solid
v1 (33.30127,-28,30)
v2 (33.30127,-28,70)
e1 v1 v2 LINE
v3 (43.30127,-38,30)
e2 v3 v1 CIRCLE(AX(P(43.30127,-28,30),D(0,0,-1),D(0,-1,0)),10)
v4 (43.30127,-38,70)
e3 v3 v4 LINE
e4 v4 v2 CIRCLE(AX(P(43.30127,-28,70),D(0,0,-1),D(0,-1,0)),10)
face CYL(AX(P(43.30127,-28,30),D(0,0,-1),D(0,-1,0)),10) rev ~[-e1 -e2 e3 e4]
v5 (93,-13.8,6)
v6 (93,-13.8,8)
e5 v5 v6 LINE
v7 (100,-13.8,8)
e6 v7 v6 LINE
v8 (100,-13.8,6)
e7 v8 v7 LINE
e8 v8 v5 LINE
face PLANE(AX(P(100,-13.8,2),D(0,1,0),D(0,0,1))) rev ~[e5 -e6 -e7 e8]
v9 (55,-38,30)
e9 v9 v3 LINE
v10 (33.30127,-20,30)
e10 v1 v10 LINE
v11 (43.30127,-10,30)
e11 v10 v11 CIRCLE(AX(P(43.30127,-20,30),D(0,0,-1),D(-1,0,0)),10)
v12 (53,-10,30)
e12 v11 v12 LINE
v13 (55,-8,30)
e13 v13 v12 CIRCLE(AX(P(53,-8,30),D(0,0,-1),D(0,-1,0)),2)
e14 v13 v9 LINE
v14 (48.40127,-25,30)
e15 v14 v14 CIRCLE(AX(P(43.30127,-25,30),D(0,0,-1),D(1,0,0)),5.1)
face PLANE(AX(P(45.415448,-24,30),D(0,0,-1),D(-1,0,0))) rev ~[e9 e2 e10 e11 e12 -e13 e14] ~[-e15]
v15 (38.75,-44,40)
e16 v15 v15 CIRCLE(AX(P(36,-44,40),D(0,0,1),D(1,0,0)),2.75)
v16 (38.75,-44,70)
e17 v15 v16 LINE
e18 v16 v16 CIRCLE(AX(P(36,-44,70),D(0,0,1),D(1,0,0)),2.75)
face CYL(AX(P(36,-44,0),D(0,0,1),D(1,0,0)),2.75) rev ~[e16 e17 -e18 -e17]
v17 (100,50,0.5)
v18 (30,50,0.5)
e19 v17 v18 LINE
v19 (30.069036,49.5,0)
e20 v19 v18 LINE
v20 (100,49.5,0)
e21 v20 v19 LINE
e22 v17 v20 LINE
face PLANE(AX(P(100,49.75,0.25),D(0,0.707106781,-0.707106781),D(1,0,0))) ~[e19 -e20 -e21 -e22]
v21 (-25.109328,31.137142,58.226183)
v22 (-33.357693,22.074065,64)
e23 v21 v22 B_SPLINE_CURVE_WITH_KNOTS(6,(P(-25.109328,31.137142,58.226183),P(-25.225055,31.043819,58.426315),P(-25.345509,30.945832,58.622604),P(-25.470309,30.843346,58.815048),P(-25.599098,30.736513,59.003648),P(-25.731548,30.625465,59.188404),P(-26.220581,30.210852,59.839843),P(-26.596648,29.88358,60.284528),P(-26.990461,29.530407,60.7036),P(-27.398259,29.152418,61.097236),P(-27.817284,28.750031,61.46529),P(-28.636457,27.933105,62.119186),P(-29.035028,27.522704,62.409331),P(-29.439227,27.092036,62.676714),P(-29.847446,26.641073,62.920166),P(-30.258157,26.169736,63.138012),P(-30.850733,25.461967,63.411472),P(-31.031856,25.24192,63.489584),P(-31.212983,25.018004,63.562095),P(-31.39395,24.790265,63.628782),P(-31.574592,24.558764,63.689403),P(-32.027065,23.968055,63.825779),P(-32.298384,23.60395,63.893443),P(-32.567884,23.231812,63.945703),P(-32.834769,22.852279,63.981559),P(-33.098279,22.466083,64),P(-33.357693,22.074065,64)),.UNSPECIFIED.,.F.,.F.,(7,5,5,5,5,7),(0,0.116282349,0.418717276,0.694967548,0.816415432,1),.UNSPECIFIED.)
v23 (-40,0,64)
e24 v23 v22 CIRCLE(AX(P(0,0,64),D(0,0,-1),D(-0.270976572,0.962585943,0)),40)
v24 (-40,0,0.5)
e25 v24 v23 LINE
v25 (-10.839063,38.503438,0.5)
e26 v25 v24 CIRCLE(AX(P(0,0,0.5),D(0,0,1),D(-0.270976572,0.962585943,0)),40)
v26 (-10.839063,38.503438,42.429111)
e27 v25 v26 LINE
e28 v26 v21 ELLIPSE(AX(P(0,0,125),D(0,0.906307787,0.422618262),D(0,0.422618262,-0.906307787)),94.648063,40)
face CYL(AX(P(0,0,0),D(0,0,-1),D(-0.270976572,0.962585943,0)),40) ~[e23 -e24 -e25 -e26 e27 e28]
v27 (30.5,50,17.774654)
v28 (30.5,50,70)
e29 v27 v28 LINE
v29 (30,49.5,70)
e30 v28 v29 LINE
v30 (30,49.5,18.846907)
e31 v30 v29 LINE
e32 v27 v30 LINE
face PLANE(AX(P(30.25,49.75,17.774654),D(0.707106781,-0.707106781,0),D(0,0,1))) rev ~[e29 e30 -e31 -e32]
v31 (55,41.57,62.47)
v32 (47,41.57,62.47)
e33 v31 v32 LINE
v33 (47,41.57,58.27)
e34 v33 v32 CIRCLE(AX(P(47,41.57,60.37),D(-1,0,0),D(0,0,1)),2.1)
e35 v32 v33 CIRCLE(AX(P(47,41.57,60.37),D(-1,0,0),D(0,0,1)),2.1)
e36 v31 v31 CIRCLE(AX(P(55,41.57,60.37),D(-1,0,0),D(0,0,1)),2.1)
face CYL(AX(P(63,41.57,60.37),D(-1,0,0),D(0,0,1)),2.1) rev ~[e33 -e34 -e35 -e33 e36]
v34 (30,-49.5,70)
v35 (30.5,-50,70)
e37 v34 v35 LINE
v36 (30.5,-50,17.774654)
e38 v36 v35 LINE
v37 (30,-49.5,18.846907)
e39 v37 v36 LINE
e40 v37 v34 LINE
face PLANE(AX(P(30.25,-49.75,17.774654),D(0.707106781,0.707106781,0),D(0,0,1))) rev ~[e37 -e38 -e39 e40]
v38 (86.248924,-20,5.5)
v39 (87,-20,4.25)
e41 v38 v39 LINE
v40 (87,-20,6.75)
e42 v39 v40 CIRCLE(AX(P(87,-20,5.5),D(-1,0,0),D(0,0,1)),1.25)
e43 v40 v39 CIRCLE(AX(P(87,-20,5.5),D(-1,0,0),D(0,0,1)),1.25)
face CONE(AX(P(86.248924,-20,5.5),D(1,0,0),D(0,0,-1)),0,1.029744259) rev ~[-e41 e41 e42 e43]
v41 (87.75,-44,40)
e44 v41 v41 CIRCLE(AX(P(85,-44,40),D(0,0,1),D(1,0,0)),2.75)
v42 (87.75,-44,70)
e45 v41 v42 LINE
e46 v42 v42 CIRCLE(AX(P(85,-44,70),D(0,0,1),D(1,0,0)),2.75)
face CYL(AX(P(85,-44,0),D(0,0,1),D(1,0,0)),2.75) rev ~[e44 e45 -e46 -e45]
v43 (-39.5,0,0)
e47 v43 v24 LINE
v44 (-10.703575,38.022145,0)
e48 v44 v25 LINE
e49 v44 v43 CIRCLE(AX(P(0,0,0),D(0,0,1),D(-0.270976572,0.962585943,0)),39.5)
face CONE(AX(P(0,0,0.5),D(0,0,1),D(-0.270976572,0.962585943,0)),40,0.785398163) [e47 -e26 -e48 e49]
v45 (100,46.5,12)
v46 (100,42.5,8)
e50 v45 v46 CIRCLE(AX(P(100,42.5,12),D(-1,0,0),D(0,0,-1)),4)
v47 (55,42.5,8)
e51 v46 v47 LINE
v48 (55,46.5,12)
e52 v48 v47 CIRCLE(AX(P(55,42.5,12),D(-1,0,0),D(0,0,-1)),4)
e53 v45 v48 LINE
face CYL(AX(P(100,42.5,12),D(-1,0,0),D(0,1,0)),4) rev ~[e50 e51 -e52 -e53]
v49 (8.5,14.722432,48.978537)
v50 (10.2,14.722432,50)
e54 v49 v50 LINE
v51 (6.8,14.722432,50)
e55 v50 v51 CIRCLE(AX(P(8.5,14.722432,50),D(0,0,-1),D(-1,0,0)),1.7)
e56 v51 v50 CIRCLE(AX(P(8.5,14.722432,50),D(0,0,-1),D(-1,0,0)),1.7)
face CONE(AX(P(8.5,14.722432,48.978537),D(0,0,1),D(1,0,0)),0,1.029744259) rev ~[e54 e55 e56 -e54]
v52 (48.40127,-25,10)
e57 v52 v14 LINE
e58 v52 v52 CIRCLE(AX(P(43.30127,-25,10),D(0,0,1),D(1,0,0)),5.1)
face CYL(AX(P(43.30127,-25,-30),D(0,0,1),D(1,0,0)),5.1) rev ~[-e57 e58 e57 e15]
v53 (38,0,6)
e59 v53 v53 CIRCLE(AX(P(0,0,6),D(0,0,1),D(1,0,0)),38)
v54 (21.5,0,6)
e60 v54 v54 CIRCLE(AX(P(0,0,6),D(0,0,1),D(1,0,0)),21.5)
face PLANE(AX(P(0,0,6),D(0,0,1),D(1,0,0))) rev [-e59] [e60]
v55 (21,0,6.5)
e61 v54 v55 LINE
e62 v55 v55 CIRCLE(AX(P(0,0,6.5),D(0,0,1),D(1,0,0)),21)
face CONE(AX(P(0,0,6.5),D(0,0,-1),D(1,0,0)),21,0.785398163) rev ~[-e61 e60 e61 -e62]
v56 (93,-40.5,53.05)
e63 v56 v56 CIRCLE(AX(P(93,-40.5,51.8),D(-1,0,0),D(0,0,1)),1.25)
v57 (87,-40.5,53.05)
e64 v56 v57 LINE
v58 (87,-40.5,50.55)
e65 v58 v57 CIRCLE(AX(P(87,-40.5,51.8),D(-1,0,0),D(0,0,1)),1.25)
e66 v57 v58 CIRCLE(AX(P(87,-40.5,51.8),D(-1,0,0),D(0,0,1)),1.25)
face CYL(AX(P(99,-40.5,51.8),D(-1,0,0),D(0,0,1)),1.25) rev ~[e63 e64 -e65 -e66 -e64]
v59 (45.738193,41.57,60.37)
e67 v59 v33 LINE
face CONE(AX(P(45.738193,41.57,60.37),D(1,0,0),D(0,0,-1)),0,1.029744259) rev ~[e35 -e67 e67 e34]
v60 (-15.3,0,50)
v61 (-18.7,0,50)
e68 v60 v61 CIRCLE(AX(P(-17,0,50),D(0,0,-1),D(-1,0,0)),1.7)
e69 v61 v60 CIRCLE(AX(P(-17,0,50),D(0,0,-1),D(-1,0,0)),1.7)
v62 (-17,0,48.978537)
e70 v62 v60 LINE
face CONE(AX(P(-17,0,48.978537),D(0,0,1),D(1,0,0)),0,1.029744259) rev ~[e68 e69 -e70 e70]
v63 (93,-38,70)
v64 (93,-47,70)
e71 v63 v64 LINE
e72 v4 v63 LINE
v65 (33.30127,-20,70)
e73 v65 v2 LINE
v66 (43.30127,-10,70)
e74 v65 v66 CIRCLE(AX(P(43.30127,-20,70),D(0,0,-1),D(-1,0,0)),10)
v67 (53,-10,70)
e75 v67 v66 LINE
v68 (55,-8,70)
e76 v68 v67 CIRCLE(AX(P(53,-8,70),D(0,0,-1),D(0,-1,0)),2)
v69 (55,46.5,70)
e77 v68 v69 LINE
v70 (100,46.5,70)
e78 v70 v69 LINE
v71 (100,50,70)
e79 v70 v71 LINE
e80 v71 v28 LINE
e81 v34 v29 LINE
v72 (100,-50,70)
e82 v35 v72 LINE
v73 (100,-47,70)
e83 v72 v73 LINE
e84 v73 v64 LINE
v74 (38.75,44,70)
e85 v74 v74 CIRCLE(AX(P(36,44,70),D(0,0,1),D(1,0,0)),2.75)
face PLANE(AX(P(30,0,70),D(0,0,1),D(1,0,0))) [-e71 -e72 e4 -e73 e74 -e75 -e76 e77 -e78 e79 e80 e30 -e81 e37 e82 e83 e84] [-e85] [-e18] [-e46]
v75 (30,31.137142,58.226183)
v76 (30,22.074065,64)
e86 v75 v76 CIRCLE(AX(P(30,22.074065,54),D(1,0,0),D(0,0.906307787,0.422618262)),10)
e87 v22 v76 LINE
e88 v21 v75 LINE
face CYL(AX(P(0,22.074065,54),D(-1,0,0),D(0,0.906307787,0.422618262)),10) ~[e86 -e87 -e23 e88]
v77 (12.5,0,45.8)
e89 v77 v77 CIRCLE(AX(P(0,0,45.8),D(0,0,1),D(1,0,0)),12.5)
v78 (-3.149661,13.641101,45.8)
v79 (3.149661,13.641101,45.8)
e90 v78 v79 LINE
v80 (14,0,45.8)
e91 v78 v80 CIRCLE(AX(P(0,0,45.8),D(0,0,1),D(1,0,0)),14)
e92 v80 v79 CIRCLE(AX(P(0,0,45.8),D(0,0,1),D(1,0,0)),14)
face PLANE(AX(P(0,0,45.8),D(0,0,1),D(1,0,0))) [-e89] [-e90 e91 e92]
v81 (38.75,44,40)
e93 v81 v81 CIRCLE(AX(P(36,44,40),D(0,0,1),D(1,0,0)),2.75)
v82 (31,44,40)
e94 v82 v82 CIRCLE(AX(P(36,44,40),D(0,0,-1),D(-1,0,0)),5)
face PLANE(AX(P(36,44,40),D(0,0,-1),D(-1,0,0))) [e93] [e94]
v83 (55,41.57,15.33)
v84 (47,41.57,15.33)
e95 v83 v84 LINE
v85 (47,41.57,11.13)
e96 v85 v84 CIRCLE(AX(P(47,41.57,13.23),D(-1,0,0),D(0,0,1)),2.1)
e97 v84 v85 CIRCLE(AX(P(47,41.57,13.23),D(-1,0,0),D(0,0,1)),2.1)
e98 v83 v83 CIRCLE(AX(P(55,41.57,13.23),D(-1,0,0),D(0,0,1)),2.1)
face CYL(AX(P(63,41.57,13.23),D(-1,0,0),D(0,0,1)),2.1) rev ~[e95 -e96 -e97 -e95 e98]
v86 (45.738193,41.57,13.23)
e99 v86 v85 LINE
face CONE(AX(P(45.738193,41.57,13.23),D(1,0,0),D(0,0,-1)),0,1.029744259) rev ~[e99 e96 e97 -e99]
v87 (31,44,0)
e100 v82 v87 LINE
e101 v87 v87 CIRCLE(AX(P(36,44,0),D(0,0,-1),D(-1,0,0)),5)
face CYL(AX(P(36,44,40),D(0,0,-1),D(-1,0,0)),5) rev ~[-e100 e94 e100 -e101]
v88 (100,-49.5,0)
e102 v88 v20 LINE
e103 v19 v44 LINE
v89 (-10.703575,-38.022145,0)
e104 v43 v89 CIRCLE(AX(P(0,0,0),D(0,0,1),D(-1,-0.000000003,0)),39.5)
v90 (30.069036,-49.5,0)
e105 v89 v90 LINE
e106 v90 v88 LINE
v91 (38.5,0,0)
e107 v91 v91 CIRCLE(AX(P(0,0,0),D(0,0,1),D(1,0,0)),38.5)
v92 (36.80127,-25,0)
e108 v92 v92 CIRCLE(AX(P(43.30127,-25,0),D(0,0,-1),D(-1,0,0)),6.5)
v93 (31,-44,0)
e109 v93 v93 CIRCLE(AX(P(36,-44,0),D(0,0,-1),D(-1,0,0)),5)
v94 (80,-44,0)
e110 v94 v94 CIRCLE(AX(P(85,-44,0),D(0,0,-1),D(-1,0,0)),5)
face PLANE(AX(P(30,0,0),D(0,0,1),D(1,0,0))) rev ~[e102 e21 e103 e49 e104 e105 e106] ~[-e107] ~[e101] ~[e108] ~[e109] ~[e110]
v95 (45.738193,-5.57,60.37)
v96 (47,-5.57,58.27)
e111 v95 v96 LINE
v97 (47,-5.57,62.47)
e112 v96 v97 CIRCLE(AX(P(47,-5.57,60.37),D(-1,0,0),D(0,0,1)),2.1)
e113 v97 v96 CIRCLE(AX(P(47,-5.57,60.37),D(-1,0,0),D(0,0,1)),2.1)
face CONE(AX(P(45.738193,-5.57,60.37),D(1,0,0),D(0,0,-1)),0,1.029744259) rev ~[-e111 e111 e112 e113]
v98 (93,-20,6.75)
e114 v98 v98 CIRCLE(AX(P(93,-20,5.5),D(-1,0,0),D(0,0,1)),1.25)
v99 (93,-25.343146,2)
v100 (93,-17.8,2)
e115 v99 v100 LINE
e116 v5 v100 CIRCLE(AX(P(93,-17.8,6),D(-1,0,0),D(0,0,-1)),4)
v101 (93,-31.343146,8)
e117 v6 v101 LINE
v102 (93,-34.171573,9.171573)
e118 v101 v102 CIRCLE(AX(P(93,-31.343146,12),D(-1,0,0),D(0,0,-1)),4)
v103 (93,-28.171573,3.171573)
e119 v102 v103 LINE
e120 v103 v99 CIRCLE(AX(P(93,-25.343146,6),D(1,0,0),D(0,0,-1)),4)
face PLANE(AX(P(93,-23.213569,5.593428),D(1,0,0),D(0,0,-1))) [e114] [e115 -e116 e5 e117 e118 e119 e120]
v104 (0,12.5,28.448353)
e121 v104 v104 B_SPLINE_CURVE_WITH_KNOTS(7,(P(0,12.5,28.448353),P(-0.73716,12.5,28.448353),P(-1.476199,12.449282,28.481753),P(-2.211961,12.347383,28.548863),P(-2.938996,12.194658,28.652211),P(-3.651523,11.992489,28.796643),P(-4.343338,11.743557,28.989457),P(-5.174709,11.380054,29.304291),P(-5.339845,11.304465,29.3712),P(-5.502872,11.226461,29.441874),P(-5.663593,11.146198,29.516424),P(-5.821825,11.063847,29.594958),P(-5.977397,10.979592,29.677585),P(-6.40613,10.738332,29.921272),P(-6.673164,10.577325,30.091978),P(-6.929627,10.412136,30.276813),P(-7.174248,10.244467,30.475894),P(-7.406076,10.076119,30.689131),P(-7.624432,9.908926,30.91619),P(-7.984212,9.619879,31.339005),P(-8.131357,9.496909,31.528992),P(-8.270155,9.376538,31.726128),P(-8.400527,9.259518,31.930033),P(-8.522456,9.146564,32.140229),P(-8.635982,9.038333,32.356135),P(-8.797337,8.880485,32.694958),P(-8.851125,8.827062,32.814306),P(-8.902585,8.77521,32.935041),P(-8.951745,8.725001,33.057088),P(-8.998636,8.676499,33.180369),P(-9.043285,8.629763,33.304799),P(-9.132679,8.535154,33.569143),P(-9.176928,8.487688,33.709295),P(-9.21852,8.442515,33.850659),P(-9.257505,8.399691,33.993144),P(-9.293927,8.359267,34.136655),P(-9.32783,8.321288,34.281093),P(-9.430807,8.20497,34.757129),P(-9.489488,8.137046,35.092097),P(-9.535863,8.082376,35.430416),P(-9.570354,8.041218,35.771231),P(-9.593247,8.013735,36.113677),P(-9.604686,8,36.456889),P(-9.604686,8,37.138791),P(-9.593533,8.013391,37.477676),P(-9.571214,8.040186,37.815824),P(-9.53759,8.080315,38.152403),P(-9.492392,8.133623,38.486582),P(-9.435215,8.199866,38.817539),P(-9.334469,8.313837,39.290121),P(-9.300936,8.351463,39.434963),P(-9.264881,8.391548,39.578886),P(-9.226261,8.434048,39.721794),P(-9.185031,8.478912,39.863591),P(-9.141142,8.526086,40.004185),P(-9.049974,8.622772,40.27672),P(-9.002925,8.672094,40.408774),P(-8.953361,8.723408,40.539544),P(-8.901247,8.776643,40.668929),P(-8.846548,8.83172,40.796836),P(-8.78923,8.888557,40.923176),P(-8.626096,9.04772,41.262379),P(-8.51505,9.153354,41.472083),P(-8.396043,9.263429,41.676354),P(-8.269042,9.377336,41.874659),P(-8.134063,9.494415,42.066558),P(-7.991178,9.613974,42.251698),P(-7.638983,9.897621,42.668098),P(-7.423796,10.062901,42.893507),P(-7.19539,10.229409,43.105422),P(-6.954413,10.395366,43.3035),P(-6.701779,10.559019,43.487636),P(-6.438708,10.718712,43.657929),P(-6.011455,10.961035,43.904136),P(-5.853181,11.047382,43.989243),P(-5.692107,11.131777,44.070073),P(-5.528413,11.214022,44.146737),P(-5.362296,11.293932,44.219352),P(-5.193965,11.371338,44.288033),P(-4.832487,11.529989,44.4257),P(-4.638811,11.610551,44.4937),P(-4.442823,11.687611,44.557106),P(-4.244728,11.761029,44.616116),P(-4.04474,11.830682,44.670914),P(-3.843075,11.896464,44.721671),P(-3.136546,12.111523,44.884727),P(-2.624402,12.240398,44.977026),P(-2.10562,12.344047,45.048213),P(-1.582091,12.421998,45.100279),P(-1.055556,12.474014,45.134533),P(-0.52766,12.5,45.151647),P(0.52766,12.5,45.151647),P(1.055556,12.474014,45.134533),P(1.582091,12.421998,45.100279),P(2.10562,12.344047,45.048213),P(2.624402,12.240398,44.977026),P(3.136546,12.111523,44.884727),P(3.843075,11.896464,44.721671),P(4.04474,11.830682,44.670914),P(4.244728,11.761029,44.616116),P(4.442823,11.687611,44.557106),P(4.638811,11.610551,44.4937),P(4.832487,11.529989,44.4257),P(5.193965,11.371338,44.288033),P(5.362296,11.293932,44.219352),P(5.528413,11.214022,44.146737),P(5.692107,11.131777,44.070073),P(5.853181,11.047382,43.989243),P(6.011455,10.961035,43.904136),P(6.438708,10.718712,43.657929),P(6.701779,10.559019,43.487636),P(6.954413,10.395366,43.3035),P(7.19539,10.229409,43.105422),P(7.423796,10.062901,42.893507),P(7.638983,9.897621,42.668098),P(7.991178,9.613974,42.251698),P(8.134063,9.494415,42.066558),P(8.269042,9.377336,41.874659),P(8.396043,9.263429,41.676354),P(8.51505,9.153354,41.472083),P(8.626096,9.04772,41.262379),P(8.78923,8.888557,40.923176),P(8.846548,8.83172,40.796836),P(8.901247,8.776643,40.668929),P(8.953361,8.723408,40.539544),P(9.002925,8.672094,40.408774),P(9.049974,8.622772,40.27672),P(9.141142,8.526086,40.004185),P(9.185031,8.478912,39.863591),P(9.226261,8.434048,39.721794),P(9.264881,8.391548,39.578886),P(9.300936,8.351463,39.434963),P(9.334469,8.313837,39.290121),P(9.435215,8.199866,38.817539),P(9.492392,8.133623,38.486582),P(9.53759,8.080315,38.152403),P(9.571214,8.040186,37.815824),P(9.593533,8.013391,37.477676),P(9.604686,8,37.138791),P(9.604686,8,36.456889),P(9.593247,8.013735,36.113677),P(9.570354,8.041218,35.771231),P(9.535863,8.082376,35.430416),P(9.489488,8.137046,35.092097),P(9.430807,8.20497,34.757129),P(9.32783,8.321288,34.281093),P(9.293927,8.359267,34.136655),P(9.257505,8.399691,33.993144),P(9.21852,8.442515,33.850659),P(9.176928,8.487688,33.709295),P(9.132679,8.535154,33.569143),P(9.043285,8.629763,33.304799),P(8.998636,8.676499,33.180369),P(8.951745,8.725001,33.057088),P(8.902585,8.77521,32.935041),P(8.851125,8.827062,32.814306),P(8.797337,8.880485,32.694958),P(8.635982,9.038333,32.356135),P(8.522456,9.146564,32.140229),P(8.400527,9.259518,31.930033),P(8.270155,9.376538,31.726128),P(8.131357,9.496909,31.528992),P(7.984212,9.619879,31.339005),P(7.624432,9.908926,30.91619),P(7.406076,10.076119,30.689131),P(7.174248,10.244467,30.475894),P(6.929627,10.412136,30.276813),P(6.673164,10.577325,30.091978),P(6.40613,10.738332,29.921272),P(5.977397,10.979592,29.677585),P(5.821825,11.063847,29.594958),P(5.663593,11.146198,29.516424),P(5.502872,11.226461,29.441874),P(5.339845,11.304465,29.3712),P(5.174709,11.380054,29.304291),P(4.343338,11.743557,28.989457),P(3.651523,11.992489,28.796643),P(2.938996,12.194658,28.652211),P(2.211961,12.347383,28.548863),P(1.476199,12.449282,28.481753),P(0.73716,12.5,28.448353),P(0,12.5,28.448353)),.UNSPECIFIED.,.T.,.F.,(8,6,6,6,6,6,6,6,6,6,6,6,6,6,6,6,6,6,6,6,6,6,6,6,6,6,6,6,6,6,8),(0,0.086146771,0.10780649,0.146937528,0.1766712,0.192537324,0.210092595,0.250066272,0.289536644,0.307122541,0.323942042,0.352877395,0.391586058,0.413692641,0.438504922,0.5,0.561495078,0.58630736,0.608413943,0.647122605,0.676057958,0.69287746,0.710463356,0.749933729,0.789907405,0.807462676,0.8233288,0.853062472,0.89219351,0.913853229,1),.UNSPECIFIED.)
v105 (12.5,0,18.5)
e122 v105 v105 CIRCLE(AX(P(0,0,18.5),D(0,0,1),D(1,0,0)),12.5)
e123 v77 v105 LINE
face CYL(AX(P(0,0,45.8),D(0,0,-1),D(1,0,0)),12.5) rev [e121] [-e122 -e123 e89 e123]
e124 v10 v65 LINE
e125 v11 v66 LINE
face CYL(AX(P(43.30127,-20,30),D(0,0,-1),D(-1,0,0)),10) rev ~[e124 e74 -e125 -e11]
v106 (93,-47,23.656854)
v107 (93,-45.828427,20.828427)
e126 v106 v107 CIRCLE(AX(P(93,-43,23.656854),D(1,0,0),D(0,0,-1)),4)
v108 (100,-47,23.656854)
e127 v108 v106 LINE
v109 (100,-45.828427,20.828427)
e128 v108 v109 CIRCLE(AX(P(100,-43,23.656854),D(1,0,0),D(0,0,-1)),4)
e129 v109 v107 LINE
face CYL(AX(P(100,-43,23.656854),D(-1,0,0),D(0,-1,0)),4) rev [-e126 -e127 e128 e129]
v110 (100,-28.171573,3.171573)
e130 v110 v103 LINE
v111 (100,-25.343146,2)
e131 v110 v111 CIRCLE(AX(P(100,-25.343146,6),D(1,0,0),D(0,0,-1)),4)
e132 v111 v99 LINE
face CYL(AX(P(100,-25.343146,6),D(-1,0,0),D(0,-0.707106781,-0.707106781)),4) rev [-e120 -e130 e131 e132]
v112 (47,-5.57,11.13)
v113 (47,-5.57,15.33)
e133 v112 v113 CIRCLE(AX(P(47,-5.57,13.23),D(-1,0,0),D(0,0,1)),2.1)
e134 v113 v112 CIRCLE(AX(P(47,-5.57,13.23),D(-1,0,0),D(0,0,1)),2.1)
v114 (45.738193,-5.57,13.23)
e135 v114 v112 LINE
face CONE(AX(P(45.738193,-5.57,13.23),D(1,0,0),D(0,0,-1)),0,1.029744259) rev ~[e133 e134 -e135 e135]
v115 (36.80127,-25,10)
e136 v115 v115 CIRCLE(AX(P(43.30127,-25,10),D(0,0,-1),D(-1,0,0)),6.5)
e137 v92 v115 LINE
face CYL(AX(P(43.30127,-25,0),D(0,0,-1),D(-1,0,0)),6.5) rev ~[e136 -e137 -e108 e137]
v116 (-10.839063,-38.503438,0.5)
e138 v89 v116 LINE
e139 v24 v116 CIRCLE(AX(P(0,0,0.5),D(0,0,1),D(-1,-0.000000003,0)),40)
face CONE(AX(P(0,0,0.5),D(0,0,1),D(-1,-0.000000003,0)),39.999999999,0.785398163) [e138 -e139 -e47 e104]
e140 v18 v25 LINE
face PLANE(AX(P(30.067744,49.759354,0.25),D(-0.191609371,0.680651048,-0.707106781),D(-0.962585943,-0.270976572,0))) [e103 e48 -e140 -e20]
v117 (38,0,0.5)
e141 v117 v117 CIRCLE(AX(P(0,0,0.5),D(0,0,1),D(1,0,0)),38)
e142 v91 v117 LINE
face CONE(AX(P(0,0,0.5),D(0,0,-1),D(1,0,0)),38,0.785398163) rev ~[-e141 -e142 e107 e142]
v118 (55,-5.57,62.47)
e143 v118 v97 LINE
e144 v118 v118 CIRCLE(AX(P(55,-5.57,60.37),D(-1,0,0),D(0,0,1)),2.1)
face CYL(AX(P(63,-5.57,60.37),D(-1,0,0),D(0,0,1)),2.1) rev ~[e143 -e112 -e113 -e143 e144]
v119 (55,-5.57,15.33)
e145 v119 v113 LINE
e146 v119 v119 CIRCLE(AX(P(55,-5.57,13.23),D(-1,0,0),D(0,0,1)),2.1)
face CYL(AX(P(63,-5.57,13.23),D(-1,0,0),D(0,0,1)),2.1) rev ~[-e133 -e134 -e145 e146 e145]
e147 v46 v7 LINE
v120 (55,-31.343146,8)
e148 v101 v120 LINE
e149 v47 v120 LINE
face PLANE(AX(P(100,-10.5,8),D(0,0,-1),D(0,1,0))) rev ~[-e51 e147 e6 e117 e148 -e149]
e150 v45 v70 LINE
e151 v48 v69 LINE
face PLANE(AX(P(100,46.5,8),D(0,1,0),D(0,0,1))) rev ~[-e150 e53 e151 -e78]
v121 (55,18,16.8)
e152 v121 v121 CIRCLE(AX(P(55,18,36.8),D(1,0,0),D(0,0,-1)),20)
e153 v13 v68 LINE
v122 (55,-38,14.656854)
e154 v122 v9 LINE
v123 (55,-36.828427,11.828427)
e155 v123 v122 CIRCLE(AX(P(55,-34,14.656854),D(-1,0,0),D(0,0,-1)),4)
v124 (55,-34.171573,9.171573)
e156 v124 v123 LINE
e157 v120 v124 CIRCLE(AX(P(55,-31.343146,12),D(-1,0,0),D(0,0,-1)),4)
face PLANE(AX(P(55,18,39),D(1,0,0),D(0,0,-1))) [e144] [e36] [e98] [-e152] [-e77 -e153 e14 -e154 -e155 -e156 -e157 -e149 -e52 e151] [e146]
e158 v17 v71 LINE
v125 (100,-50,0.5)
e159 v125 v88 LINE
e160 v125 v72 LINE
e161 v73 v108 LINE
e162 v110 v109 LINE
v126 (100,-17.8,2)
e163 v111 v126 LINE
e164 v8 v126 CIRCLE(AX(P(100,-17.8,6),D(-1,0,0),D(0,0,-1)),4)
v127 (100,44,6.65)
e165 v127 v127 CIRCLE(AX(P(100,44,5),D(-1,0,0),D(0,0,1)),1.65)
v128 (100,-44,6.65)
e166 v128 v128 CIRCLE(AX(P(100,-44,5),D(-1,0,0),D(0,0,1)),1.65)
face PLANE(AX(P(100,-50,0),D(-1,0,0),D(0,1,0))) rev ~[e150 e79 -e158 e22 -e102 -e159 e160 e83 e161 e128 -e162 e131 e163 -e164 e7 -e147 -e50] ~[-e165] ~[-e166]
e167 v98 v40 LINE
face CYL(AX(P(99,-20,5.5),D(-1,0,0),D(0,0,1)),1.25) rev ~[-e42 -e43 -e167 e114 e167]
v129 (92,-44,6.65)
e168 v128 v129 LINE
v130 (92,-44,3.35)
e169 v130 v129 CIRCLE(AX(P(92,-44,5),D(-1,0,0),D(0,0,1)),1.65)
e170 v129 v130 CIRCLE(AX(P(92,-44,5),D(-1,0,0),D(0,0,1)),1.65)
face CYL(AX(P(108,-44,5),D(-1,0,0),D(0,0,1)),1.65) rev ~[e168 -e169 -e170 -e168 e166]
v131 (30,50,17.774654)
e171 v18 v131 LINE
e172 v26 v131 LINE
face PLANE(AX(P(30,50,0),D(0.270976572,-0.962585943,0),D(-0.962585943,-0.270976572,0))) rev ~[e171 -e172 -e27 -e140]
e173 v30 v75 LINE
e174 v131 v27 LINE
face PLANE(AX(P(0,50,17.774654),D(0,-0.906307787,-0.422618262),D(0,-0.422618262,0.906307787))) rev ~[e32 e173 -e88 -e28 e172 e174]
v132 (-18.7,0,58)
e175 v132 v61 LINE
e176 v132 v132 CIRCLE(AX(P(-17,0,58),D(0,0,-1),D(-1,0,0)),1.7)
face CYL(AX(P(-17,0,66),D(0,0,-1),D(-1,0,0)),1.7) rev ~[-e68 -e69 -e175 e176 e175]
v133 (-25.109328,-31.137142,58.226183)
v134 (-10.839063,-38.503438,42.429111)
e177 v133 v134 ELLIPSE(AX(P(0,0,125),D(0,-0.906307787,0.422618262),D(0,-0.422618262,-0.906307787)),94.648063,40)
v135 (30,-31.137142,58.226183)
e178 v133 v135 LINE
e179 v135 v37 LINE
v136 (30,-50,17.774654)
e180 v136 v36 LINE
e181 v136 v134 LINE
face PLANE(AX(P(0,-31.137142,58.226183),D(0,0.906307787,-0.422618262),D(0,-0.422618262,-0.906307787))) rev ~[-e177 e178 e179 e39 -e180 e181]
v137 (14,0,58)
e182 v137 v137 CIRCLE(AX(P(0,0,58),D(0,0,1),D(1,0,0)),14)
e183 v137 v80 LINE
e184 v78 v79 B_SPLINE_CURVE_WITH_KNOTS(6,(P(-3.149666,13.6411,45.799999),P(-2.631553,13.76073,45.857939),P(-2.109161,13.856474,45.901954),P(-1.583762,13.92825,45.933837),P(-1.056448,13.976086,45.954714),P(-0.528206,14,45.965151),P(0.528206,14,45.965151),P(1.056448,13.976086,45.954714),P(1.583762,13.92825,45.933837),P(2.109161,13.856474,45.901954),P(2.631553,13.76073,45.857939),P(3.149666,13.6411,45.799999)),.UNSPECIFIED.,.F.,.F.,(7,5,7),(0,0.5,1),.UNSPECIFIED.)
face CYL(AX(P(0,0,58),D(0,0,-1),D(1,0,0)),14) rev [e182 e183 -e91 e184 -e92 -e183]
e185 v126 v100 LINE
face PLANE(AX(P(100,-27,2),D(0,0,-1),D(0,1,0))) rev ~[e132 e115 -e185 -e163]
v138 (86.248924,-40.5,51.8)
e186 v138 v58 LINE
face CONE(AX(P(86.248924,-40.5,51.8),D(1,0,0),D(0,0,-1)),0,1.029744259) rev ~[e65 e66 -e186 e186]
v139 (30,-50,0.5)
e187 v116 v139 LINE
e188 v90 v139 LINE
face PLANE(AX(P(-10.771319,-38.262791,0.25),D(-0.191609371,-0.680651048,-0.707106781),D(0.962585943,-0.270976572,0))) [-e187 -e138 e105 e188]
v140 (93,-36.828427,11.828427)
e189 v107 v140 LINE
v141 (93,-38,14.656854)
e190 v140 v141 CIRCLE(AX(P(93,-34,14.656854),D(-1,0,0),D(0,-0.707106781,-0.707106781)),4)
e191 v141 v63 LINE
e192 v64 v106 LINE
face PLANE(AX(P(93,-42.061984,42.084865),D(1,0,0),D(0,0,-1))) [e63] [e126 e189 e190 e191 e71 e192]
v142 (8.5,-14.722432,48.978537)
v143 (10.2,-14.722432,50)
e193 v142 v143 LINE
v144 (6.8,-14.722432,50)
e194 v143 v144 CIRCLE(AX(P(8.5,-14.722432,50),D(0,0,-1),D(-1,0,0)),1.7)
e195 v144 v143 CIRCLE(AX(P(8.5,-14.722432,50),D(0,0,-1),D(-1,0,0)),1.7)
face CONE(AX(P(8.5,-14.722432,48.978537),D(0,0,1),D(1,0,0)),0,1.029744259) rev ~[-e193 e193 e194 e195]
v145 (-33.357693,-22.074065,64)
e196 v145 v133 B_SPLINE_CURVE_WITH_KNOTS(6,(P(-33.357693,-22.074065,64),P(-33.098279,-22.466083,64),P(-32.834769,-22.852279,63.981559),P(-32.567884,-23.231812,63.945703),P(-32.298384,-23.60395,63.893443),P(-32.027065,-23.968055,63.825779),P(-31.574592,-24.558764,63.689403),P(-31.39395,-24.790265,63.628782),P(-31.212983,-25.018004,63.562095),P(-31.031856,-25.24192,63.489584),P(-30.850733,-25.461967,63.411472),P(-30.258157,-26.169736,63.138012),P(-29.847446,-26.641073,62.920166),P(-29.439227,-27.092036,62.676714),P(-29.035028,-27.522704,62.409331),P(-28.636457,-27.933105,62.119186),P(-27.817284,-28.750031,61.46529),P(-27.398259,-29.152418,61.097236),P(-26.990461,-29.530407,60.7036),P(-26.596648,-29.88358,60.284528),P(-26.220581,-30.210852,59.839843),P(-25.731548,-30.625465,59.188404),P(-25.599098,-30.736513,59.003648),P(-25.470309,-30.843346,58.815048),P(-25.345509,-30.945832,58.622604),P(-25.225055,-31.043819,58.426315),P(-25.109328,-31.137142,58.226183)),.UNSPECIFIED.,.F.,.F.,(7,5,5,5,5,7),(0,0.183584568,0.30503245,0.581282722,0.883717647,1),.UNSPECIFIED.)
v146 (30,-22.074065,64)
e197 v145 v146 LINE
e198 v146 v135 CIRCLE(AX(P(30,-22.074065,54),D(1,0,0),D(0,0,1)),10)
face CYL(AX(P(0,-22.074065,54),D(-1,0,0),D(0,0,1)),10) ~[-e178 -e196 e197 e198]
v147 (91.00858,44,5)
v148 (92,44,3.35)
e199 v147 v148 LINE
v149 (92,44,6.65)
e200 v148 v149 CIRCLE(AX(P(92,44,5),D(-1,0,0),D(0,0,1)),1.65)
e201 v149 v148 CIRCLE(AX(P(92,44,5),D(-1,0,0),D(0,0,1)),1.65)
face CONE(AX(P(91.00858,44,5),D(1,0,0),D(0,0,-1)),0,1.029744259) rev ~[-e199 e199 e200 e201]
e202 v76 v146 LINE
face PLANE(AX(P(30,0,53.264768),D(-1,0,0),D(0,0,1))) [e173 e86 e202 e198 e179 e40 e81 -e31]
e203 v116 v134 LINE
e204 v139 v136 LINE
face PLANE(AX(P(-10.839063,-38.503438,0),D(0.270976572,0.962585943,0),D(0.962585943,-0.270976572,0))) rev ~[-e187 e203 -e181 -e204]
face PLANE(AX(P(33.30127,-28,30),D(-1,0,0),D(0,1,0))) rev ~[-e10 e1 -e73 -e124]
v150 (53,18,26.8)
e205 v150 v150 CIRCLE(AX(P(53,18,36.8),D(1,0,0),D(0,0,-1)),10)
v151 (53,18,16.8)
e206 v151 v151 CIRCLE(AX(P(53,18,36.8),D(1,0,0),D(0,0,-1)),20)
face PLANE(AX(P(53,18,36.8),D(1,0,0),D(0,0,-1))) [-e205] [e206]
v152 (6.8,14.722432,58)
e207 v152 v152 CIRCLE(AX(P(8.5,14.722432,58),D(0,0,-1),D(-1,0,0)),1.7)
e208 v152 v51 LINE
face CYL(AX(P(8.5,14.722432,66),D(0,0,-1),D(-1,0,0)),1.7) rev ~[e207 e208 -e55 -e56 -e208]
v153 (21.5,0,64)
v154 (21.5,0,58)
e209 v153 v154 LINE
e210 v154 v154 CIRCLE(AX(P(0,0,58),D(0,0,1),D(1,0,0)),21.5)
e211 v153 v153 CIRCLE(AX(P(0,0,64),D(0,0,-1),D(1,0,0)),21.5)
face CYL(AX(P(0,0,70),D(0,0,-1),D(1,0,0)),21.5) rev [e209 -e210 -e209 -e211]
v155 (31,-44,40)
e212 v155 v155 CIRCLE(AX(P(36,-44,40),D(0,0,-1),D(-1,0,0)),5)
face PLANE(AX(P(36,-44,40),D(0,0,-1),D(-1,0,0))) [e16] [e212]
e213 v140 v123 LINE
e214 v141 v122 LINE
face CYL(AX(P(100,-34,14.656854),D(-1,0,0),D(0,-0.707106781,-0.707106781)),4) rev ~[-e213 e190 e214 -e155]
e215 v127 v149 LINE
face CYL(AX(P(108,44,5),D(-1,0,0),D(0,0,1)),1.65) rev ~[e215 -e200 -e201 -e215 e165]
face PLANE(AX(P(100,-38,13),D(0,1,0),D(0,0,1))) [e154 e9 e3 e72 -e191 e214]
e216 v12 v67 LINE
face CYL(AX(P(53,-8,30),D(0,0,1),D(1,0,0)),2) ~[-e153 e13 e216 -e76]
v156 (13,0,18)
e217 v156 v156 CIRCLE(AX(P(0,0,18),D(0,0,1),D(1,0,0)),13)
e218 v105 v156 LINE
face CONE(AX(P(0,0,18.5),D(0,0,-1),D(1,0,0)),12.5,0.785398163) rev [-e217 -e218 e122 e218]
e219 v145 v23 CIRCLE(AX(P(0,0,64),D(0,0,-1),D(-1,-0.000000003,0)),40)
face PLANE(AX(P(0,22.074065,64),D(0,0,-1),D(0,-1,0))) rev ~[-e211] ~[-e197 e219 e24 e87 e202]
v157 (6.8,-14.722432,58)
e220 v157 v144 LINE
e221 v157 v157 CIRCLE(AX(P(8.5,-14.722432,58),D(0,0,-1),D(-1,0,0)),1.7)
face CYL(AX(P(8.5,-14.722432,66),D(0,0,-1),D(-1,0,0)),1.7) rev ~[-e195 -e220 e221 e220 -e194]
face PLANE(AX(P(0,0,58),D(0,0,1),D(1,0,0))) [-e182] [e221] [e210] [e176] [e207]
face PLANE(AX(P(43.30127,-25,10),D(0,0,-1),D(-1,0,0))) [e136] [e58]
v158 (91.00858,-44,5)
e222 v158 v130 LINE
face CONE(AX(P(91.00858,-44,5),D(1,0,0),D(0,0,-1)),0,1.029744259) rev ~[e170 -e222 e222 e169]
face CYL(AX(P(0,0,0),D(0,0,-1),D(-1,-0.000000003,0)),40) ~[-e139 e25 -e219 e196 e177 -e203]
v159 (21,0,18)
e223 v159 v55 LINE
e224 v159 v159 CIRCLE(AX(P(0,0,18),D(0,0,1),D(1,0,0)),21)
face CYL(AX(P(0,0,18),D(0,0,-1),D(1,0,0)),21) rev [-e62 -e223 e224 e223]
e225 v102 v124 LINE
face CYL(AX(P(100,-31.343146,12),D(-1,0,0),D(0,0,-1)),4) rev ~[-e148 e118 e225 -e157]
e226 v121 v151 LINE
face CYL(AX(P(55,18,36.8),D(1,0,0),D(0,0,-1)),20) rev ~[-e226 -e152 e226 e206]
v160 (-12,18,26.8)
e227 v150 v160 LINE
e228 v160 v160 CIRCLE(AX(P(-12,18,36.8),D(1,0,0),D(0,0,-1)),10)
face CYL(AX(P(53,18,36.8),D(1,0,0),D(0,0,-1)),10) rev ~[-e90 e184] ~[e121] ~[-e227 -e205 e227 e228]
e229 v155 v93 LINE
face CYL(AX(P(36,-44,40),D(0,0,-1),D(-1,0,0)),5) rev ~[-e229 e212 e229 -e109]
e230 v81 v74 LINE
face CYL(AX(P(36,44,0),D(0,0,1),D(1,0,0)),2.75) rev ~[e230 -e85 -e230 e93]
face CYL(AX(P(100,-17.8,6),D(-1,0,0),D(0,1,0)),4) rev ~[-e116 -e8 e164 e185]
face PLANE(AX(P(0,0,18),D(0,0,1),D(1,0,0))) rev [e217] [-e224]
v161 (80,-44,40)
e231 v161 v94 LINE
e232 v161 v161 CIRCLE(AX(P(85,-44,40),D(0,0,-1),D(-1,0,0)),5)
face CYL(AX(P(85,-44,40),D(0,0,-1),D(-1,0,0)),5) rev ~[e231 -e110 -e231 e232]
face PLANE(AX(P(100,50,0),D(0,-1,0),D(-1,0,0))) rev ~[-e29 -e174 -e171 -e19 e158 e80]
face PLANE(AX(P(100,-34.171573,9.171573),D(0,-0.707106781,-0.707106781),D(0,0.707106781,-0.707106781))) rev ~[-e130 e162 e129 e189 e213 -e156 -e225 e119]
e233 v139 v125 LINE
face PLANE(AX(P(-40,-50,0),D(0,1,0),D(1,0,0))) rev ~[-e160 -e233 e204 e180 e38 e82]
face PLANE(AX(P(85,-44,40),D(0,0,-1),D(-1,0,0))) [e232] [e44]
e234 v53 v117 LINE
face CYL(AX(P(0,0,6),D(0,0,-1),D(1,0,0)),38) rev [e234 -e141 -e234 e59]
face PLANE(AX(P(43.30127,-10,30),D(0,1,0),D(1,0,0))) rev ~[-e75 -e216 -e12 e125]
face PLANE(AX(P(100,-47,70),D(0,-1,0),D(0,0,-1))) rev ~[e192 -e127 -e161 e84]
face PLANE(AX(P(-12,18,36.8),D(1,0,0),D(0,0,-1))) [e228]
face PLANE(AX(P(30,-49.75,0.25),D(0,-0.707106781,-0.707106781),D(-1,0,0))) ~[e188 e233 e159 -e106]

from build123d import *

# Parameters (mm, degrees)
ESQUISSE1_R                                        = 6.328378155
BOSS_EXTRU_1_DEPTH                                 = 70
ENL_V_MAT_EXTRU_3_DEPTH                            = 45
CONG_3_R                                           = 4
ESQUISSE5_R                                        = 20
ENL_V_MAT_EXTRU_4_DEPTH                            = 2
ESQUISSE6_R                                        = 10
ENL_V_MAT_EXTRU_5_DEPTH                            = 65
TROU_POUR_TARAUDAGE_POUR_TROU_TARAUD_M5_D          = 4.2
TROU_POUR_TARAUDAGE_POUR_TROU_TARAUD_M5_DEPTH      = 8
TROU_POUR_TARAUDAGE_POUR_TROU_TARAUD_M5_TIP        = 1.2618073
ENL_V_MAT_EXTRU_6_DEPTH                            = 45
CONG_5_R                                           = 4
ENL_V_MAT_EXTRU_7_DEPTH                            = 71
ENL_V_MAT_EXTRU_10_DEPTH                           = 30
ENL_V_MAT_EXTRU_10_DEPTH_BACK                      = 41
CHAMBRAGE_POUR_VIS_T_TE_HEXAGONALE_M51_D           = 5.5
CHAMBRAGE_POUR_VIS_T_TE_HEXAGONALE_M51_DEPTH       = 90
CHAMBRAGE_POUR_VIS_T_TE_HEXAGONALE_M51_CBORE_D     = 10
CHAMBRAGE_POUR_VIS_T_TE_HEXAGONALE_M51_CBORE_DEPTH = 40
CHAMBRAGE_POUR_VIS_T_TE_HEXAGONALE_M51_TIP         = 1.652366702
TROU_POUR_TARAUDAGE_POUR_TROU_TARAUD_M1_D          = 10.2
TROU_POUR_TARAUDAGE_POUR_TROU_TARAUD_M1_DEPTH      = 30
TROU_POUR_TARAUDAGE_POUR_TROU_TARAUD_M1_TIP        = 3.064389157
ESQUISSE20_R                                       = 6.5
ENL_V_MAT_EXTRU_11_DEPTH                           = 10
ENL_V_START                                        = -30
ENL_V_MAT_EXTRU_13_DEPTH                           = 45
CONG_9_R                                           = 2
TROU_POUR_TARAUDAGE_POUR_TROU_TARAUD_M4_D          = 3.3
TROU_POUR_TARAUDAGE_POUR_TROU_TARAUD_M4_DEPTH      = 8
TROU_POUR_TARAUDAGE_POUR_TROU_TARAUD_M4_TIP        = 0.991420021
CHANFREIN1_SIZE                                    = 0.5
D_GAGEMENT_M31_D                                   = 3.4
D_GAGEMENT_M31_DEPTH                               = 8
D_GAGEMENT_M31_TIP                                 = 1.021463052
ENL_V_MAT_EXTRU_25_DEPTH                           = 7
CONG_10_R                                          = 4
TROU_POUR_TARAUDAGE_POUR_TROU_TARAUD_M3_D          = 2.5
TROU_POUR_TARAUDAGE_POUR_TROU_TARAUD_M3_DEPTH      = 6
TROU_POUR_TARAUDAGE_POUR_TROU_TARAUD_M3_TIP        = 0.751075774


with BuildPart() as part:
    # Esquisse1 → Boss.-Extru.1 (new body)
    with BuildSketch(Plane.XY):
        Polygon((100, -50), (100, 50), (30, 50), (-40, 50), (-40, -50), (30, -50), align=None)
        Circle(ESQUISSE1_R, mode=Mode.SUBTRACT)
    extrude(amount=BOSS_EXTRU_1_DEPTH)

    # Esquisse9 → Enl_vement de mati_re-R_volution1 (revolve, cut)
    with BuildSketch(Plane(origin=(0, 0, 0), x_dir=(1, 0, 0), z_dir=(0, 1, 0))):
        Polygon((0, 0), (0, -70), (21.5, -70), (21.5, -58), (14, -58), (14, -45.8), (12.5, -45.8), (12.5, -18), (21, -18), (21, -6), (38, -6), (38, 0), align=None)
    revolve(axis=Axis((0, 0, 0), (0, 0, 1)), mode=Mode.SUBTRACT)

    # Esquisse4 → Enl_v. mat.-Extru.3 (cut)
    with BuildSketch(Plane(origin=(100, 0, 0), x_dir=(0, 0, -1), z_dir=(1, 0, 0))):
        Polygon((-65, -10.5), (-8, -10.5), (-8, 46.5), (-65, 46.5), (-70, 46.5), (-70, -10.5), align=None)
    extrude(amount=-ENL_V_MAT_EXTRU_3_DEPTH, mode=Mode.SUBTRACT)

    # Cong_3
    cong_3_edges = [part.edges().sort_by_distance(p)[0] for p in [
        (77.5, 46.5, 8),
        (77.5, -10.5, 8),
    ]]
    fillet(cong_3_edges, radius=CONG_3_R)

    # Esquisse5 → Enl_v. mat.-Extru.4 (cut)
    with BuildSketch(Plane(origin=(55, 0, 0), x_dir=(0, 0, -1), z_dir=(1, 0, 0))):
        with Locations((-36.8, 18)):
            Circle(ESQUISSE5_R)
    extrude(amount=-ENL_V_MAT_EXTRU_4_DEPTH, mode=Mode.SUBTRACT)

    # Esquisse6 → Enl_v. mat.-Extru.5 (cut)
    with BuildSketch(Plane(origin=(53, 0, 0), x_dir=(0, 0, -1), z_dir=(1, 0, 0))):
        with Locations((-36.8, 18)):
            Circle(ESQUISSE6_R)
    extrude(amount=-ENL_V_MAT_EXTRU_5_DEPTH, mode=Mode.SUBTRACT)

    # Trou pour taraudage pour trou taraud_ M5
    with Locations(Plane(origin=(55, 0, 0), x_dir=(0, 0, -1), z_dir=(1, 0, 0))):
        with Locations((-36.8, 18), (-13.23, 41.57), (-60.37, -5.57), (-60.37, 41.57), (-13.23, -5.57)):
            Hole(TROU_POUR_TARAUDAGE_POUR_TROU_TARAUD_M5_D / 2, depth=TROU_POUR_TARAUDAGE_POUR_TROU_TARAUD_M5_DEPTH)
            with Locations((0, 0, -(TROU_POUR_TARAUDAGE_POUR_TROU_TARAUD_M5_DEPTH + TROU_POUR_TARAUDAGE_POUR_TROU_TARAUD_M5_TIP / 2))):  # 118° drill point
                Cone(0, TROU_POUR_TARAUDAGE_POUR_TROU_TARAUD_M5_D / 2, TROU_POUR_TARAUDAGE_POUR_TROU_TARAUD_M5_TIP, mode=Mode.SUBTRACT)

    # Esquisse10 → Enl_v. mat.-Extru.6 (cut)
    with BuildSketch(Plane(origin=(100, 0, 0), x_dir=(0, 0, -1), z_dir=(1, 0, 0))):
        Polygon((-13, -38), (-70, -38), (-70, -2.141745164), (-8, -2.141745164), (-8, -33), align=None)
    extrude(amount=-ENL_V_MAT_EXTRU_6_DEPTH, mode=Mode.SUBTRACT)

    # Cong_5
    cong_5_edges = [part.edges().sort_by_distance(p)[0] for p in [
        (77.5, -33, 8),
        (77.5, -38, 13),
    ]]
    fillet(cong_5_edges, radius=CONG_5_R)

    # Esquisse11 → Enl_v. mat.-Extru.7 (cut, through all)
    with BuildSketch(Plane(origin=(0, 0, 0), x_dir=(-1, 0, 0), z_dir=(0, 0, -1))):
        with BuildLine():
            Line((40, -50), (40, -1.07e-07))
            ThreePointArc((40, -1.07e-07), (31.887007625, -24.149922251), (10.839062865, -38.503437719))
            Line((10.839062865, -38.503437719), (-30, -50))
            Line((-30, -50), (40, -50))
        make_face()
        with BuildLine():
            Line((40, 50), (-30, 50))
            Line((-30, 50), (10.839062865, 38.503437719))
            ThreePointArc((10.839062865, 38.503437719), (31.887007689, 24.149922166), (40, -1.07e-07))
            Line((40, -1.07e-07), (40, 50))
        make_face()
    extrude(amount=-ENL_V_MAT_EXTRU_7_DEPTH, mode=Mode.SUBTRACT)

    # Esquisse14 → Enl_v. mat.-Extru.10 (cut, two sides)
    with BuildSketch(Plane(origin=(0, 0, 0), x_dir=(0, 0, -1), z_dir=(1, 0, 0))) as enl_v_mat_extru_10_sk:
        with BuildLine():
            Line((-17.774653975, 50), (-58.226182617, 31.13714241))
            ThreePointArc((-58.226182617, 31.13714241), (-62.433914458, 27.447060623), (-64, 22.074064539))
            Line((-64, 22.074064539), (-64, -22.074064539))
            ThreePointArc((-64, -22.074064539), (-62.433914458, -27.447060623), (-58.226182617, -31.13714241))
            Line((-58.226182617, -31.13714241), (-17.774653975, -50))
            Line((-17.774653975, -50), (-70, -50))
            Line((-70, -50), (-70, 50))
            Line((-70, 50), (-17.774653975, 50))
        make_face()
    extrude(amount=ENL_V_MAT_EXTRU_10_DEPTH, mode=Mode.SUBTRACT)
    extrude(enl_v_mat_extru_10_sk.sketch, amount=-ENL_V_MAT_EXTRU_10_DEPTH_BACK, mode=Mode.SUBTRACT)

    # Chambrage pour vis _ t_te hexagonale M51
    with Locations(Plane(origin=(0, 0, 0), x_dir=(-1, 0, 0), z_dir=(0, 0, -1))):
        with Locations((-85, -44), (-36, -44), (-36, 44)):
            CounterBoreHole(CHAMBRAGE_POUR_VIS_T_TE_HEXAGONALE_M51_D / 2, CHAMBRAGE_POUR_VIS_T_TE_HEXAGONALE_M51_CBORE_D / 2, CHAMBRAGE_POUR_VIS_T_TE_HEXAGONALE_M51_CBORE_DEPTH, depth=CHAMBRAGE_POUR_VIS_T_TE_HEXAGONALE_M51_DEPTH)
            with Locations((0, 0, -(CHAMBRAGE_POUR_VIS_T_TE_HEXAGONALE_M51_DEPTH + CHAMBRAGE_POUR_VIS_T_TE_HEXAGONALE_M51_TIP / 2))):  # 118° drill point
                Cone(0, CHAMBRAGE_POUR_VIS_T_TE_HEXAGONALE_M51_D / 2, CHAMBRAGE_POUR_VIS_T_TE_HEXAGONALE_M51_TIP, mode=Mode.SUBTRACT)

    # Trou pour taraudage pour trou taraud_ M1
    with Locations(Plane(origin=(0, 0, 0), x_dir=(-1, 0, 0), z_dir=(0, 0, -1))):
        with Locations((-43.301270189, -25)):
            Hole(TROU_POUR_TARAUDAGE_POUR_TROU_TARAUD_M1_D / 2, depth=TROU_POUR_TARAUDAGE_POUR_TROU_TARAUD_M1_DEPTH)
            with Locations((0, 0, -(TROU_POUR_TARAUDAGE_POUR_TROU_TARAUD_M1_DEPTH + TROU_POUR_TARAUDAGE_POUR_TROU_TARAUD_M1_TIP / 2))):  # 118° drill point
                Cone(0, TROU_POUR_TARAUDAGE_POUR_TROU_TARAUD_M1_D / 2, TROU_POUR_TARAUDAGE_POUR_TROU_TARAUD_M1_TIP, mode=Mode.SUBTRACT)

    # Esquisse20 → Enl_v. mat.-Extru.11 (cut)
    with BuildSketch(Plane(origin=(0, 0, 0), x_dir=(-1, 0, 0), z_dir=(0, 0, -1))):
        with Locations((-43.301270189, -25)):
            Circle(ESQUISSE20_R)
    extrude(amount=-ENL_V_MAT_EXTRU_11_DEPTH, mode=Mode.SUBTRACT)

    # Esquisse24 → Enl_v. mat.-Extru.13 (cut)
    with BuildSketch(Plane(origin=(0, 0, 0), x_dir=(-1, 0, 0), z_dir=(0, 0, -1)).offset(ENL_V_START)):
        with BuildLine():
            Line((-43.301270189, -10), (-55, -10))
            Line((-55, -10), (-55, -38))
            Line((-55, -38), (-43.301270189, -38))
            ThreePointArc((-43.301270189, -38), (-36.230202377, -35.071067812), (-33.301270189, -28))
            Line((-33.301270189, -28), (-33.301270189, -20))
            ThreePointArc((-33.301270189, -20), (-36.230202377, -12.928932188), (-43.301270189, -10))
        make_face()
    extrude(amount=-ENL_V_MAT_EXTRU_13_DEPTH, mode=Mode.SUBTRACT)

    # Cong_9
    cong_9_edges = [part.edges().sort_by_distance(p)[0] for p in [
        (55, -10, 50),
    ]]
    fillet(cong_9_edges, radius=CONG_9_R)

    # Trou pour taraudage pour trou taraud_ M4
    with Locations(Plane(origin=(100, 0, 0), x_dir=(0, 0, -1), z_dir=(1, 0, 0))):
        with Locations((-5, -44), (-5, 44)):
            Hole(TROU_POUR_TARAUDAGE_POUR_TROU_TARAUD_M4_D / 2, depth=TROU_POUR_TARAUDAGE_POUR_TROU_TARAUD_M4_DEPTH)
            with Locations((0, 0, -(TROU_POUR_TARAUDAGE_POUR_TROU_TARAUD_M4_DEPTH + TROU_POUR_TARAUDAGE_POUR_TROU_TARAUD_M4_TIP / 2))):  # 118° drill point
                Cone(0, TROU_POUR_TARAUDAGE_POUR_TROU_TARAUD_M4_D / 2, TROU_POUR_TARAUDAGE_POUR_TROU_TARAUD_M4_TIP, mode=Mode.SUBTRACT)

    # Chanfrein1
    chanfrein1_edges = [part.edges().sort_by_distance(p)[0] for p in [
        (9.580468567, 44.25171886, 0),
        (-40, 0, 0),
        (9.580468567, -44.25171886, 0),
        (65, -50, 0),
        (65, 50, 0),
        (-12.5, 0, 18),
        (-21, 0, 6),
        (-38, 0, 0),
        (30, -50, 43.887326987),
        (30, 50, 43.887326987),
    ]]
    chamfer(chanfrein1_edges, length=CHANFREIN1_SIZE)

    # D_gagement M31
    with Locations(Plane.XY.offset(58)):
        with Locations((-17, 0), (8.5, 14.722431864), (8.5, -14.722431864), (0, 0)):
            Hole(D_GAGEMENT_M31_D / 2, depth=D_GAGEMENT_M31_DEPTH)
            with Locations((0, 0, -(D_GAGEMENT_M31_DEPTH + D_GAGEMENT_M31_TIP / 2))):  # 118° drill point
                Cone(0, D_GAGEMENT_M31_D / 2, D_GAGEMENT_M31_TIP, mode=Mode.SUBTRACT)

    # Esquisse32 → Enl_v. mat.-Extru.25 (cut)
    with BuildSketch(Plane(origin=(100, 0, 0), x_dir=(0, 0, -1), z_dir=(1, 0, 0))):
        with BuildLine():
            ThreePointArc((-8, -31.343145751), (-8.30448187, -32.87387948), (-9.171572875, -34.171572875))
            Line((-9.171572875, -34.171572875), (-2, -27))
            Line((-2, -27), (-2, -13.8))
            Line((-2, -13.8), (-8, -13.8))
            Line((-8, -13.8), (-8, -31.343145751))
        make_face()
        with BuildLine():
            Line((-70, -38), (-70, -47))
            Line((-70, -47), (-22, -47))
            Line((-22, -47), (-11.828427125, -36.828427125))
            ThreePointArc((-11.828427125, -36.828427125), (-13.12612052, -37.69551813), (-14.656854249, -38))
            Line((-14.656854249, -38), (-70, -38))
        make_face()
    extrude(amount=-ENL_V_MAT_EXTRU_25_DEPTH, mode=Mode.SUBTRACT)

    # Cong_10
    cong_10_edges = [part.edges().sort_by_distance(p)[0] for p in [
        (96.5, -27, 2),
        (96.5, -13.8, 2),
        (96.5, -47, 22),
    ]]
    fillet(cong_10_edges, radius=CONG_10_R)

    # Trou pour taraudage pour trou taraud_ M3
    with Locations(Plane(origin=(93, 0, 0), x_dir=(0, 0, -1), z_dir=(1, 0, 0))):
        with Locations((-5.5, -20), (-51.8, -40.5)):
            Hole(TROU_POUR_TARAUDAGE_POUR_TROU_TARAUD_M3_D / 2, depth=TROU_POUR_TARAUDAGE_POUR_TROU_TARAUD_M3_DEPTH)
            with Locations((0, 0, -(TROU_POUR_TARAUDAGE_POUR_TROU_TARAUD_M3_DEPTH + TROU_POUR_TARAUDAGE_POUR_TROU_TARAUD_M3_TIP / 2))):  # 118° drill point
                Cone(0, TROU_POUR_TARAUDAGE_POUR_TROU_TARAUD_M3_D / 2, TROU_POUR_TARAUDAGE_POUR_TROU_TARAUD_M3_TIP, mode=Mode.SUBTRACT)


solid = part.part
